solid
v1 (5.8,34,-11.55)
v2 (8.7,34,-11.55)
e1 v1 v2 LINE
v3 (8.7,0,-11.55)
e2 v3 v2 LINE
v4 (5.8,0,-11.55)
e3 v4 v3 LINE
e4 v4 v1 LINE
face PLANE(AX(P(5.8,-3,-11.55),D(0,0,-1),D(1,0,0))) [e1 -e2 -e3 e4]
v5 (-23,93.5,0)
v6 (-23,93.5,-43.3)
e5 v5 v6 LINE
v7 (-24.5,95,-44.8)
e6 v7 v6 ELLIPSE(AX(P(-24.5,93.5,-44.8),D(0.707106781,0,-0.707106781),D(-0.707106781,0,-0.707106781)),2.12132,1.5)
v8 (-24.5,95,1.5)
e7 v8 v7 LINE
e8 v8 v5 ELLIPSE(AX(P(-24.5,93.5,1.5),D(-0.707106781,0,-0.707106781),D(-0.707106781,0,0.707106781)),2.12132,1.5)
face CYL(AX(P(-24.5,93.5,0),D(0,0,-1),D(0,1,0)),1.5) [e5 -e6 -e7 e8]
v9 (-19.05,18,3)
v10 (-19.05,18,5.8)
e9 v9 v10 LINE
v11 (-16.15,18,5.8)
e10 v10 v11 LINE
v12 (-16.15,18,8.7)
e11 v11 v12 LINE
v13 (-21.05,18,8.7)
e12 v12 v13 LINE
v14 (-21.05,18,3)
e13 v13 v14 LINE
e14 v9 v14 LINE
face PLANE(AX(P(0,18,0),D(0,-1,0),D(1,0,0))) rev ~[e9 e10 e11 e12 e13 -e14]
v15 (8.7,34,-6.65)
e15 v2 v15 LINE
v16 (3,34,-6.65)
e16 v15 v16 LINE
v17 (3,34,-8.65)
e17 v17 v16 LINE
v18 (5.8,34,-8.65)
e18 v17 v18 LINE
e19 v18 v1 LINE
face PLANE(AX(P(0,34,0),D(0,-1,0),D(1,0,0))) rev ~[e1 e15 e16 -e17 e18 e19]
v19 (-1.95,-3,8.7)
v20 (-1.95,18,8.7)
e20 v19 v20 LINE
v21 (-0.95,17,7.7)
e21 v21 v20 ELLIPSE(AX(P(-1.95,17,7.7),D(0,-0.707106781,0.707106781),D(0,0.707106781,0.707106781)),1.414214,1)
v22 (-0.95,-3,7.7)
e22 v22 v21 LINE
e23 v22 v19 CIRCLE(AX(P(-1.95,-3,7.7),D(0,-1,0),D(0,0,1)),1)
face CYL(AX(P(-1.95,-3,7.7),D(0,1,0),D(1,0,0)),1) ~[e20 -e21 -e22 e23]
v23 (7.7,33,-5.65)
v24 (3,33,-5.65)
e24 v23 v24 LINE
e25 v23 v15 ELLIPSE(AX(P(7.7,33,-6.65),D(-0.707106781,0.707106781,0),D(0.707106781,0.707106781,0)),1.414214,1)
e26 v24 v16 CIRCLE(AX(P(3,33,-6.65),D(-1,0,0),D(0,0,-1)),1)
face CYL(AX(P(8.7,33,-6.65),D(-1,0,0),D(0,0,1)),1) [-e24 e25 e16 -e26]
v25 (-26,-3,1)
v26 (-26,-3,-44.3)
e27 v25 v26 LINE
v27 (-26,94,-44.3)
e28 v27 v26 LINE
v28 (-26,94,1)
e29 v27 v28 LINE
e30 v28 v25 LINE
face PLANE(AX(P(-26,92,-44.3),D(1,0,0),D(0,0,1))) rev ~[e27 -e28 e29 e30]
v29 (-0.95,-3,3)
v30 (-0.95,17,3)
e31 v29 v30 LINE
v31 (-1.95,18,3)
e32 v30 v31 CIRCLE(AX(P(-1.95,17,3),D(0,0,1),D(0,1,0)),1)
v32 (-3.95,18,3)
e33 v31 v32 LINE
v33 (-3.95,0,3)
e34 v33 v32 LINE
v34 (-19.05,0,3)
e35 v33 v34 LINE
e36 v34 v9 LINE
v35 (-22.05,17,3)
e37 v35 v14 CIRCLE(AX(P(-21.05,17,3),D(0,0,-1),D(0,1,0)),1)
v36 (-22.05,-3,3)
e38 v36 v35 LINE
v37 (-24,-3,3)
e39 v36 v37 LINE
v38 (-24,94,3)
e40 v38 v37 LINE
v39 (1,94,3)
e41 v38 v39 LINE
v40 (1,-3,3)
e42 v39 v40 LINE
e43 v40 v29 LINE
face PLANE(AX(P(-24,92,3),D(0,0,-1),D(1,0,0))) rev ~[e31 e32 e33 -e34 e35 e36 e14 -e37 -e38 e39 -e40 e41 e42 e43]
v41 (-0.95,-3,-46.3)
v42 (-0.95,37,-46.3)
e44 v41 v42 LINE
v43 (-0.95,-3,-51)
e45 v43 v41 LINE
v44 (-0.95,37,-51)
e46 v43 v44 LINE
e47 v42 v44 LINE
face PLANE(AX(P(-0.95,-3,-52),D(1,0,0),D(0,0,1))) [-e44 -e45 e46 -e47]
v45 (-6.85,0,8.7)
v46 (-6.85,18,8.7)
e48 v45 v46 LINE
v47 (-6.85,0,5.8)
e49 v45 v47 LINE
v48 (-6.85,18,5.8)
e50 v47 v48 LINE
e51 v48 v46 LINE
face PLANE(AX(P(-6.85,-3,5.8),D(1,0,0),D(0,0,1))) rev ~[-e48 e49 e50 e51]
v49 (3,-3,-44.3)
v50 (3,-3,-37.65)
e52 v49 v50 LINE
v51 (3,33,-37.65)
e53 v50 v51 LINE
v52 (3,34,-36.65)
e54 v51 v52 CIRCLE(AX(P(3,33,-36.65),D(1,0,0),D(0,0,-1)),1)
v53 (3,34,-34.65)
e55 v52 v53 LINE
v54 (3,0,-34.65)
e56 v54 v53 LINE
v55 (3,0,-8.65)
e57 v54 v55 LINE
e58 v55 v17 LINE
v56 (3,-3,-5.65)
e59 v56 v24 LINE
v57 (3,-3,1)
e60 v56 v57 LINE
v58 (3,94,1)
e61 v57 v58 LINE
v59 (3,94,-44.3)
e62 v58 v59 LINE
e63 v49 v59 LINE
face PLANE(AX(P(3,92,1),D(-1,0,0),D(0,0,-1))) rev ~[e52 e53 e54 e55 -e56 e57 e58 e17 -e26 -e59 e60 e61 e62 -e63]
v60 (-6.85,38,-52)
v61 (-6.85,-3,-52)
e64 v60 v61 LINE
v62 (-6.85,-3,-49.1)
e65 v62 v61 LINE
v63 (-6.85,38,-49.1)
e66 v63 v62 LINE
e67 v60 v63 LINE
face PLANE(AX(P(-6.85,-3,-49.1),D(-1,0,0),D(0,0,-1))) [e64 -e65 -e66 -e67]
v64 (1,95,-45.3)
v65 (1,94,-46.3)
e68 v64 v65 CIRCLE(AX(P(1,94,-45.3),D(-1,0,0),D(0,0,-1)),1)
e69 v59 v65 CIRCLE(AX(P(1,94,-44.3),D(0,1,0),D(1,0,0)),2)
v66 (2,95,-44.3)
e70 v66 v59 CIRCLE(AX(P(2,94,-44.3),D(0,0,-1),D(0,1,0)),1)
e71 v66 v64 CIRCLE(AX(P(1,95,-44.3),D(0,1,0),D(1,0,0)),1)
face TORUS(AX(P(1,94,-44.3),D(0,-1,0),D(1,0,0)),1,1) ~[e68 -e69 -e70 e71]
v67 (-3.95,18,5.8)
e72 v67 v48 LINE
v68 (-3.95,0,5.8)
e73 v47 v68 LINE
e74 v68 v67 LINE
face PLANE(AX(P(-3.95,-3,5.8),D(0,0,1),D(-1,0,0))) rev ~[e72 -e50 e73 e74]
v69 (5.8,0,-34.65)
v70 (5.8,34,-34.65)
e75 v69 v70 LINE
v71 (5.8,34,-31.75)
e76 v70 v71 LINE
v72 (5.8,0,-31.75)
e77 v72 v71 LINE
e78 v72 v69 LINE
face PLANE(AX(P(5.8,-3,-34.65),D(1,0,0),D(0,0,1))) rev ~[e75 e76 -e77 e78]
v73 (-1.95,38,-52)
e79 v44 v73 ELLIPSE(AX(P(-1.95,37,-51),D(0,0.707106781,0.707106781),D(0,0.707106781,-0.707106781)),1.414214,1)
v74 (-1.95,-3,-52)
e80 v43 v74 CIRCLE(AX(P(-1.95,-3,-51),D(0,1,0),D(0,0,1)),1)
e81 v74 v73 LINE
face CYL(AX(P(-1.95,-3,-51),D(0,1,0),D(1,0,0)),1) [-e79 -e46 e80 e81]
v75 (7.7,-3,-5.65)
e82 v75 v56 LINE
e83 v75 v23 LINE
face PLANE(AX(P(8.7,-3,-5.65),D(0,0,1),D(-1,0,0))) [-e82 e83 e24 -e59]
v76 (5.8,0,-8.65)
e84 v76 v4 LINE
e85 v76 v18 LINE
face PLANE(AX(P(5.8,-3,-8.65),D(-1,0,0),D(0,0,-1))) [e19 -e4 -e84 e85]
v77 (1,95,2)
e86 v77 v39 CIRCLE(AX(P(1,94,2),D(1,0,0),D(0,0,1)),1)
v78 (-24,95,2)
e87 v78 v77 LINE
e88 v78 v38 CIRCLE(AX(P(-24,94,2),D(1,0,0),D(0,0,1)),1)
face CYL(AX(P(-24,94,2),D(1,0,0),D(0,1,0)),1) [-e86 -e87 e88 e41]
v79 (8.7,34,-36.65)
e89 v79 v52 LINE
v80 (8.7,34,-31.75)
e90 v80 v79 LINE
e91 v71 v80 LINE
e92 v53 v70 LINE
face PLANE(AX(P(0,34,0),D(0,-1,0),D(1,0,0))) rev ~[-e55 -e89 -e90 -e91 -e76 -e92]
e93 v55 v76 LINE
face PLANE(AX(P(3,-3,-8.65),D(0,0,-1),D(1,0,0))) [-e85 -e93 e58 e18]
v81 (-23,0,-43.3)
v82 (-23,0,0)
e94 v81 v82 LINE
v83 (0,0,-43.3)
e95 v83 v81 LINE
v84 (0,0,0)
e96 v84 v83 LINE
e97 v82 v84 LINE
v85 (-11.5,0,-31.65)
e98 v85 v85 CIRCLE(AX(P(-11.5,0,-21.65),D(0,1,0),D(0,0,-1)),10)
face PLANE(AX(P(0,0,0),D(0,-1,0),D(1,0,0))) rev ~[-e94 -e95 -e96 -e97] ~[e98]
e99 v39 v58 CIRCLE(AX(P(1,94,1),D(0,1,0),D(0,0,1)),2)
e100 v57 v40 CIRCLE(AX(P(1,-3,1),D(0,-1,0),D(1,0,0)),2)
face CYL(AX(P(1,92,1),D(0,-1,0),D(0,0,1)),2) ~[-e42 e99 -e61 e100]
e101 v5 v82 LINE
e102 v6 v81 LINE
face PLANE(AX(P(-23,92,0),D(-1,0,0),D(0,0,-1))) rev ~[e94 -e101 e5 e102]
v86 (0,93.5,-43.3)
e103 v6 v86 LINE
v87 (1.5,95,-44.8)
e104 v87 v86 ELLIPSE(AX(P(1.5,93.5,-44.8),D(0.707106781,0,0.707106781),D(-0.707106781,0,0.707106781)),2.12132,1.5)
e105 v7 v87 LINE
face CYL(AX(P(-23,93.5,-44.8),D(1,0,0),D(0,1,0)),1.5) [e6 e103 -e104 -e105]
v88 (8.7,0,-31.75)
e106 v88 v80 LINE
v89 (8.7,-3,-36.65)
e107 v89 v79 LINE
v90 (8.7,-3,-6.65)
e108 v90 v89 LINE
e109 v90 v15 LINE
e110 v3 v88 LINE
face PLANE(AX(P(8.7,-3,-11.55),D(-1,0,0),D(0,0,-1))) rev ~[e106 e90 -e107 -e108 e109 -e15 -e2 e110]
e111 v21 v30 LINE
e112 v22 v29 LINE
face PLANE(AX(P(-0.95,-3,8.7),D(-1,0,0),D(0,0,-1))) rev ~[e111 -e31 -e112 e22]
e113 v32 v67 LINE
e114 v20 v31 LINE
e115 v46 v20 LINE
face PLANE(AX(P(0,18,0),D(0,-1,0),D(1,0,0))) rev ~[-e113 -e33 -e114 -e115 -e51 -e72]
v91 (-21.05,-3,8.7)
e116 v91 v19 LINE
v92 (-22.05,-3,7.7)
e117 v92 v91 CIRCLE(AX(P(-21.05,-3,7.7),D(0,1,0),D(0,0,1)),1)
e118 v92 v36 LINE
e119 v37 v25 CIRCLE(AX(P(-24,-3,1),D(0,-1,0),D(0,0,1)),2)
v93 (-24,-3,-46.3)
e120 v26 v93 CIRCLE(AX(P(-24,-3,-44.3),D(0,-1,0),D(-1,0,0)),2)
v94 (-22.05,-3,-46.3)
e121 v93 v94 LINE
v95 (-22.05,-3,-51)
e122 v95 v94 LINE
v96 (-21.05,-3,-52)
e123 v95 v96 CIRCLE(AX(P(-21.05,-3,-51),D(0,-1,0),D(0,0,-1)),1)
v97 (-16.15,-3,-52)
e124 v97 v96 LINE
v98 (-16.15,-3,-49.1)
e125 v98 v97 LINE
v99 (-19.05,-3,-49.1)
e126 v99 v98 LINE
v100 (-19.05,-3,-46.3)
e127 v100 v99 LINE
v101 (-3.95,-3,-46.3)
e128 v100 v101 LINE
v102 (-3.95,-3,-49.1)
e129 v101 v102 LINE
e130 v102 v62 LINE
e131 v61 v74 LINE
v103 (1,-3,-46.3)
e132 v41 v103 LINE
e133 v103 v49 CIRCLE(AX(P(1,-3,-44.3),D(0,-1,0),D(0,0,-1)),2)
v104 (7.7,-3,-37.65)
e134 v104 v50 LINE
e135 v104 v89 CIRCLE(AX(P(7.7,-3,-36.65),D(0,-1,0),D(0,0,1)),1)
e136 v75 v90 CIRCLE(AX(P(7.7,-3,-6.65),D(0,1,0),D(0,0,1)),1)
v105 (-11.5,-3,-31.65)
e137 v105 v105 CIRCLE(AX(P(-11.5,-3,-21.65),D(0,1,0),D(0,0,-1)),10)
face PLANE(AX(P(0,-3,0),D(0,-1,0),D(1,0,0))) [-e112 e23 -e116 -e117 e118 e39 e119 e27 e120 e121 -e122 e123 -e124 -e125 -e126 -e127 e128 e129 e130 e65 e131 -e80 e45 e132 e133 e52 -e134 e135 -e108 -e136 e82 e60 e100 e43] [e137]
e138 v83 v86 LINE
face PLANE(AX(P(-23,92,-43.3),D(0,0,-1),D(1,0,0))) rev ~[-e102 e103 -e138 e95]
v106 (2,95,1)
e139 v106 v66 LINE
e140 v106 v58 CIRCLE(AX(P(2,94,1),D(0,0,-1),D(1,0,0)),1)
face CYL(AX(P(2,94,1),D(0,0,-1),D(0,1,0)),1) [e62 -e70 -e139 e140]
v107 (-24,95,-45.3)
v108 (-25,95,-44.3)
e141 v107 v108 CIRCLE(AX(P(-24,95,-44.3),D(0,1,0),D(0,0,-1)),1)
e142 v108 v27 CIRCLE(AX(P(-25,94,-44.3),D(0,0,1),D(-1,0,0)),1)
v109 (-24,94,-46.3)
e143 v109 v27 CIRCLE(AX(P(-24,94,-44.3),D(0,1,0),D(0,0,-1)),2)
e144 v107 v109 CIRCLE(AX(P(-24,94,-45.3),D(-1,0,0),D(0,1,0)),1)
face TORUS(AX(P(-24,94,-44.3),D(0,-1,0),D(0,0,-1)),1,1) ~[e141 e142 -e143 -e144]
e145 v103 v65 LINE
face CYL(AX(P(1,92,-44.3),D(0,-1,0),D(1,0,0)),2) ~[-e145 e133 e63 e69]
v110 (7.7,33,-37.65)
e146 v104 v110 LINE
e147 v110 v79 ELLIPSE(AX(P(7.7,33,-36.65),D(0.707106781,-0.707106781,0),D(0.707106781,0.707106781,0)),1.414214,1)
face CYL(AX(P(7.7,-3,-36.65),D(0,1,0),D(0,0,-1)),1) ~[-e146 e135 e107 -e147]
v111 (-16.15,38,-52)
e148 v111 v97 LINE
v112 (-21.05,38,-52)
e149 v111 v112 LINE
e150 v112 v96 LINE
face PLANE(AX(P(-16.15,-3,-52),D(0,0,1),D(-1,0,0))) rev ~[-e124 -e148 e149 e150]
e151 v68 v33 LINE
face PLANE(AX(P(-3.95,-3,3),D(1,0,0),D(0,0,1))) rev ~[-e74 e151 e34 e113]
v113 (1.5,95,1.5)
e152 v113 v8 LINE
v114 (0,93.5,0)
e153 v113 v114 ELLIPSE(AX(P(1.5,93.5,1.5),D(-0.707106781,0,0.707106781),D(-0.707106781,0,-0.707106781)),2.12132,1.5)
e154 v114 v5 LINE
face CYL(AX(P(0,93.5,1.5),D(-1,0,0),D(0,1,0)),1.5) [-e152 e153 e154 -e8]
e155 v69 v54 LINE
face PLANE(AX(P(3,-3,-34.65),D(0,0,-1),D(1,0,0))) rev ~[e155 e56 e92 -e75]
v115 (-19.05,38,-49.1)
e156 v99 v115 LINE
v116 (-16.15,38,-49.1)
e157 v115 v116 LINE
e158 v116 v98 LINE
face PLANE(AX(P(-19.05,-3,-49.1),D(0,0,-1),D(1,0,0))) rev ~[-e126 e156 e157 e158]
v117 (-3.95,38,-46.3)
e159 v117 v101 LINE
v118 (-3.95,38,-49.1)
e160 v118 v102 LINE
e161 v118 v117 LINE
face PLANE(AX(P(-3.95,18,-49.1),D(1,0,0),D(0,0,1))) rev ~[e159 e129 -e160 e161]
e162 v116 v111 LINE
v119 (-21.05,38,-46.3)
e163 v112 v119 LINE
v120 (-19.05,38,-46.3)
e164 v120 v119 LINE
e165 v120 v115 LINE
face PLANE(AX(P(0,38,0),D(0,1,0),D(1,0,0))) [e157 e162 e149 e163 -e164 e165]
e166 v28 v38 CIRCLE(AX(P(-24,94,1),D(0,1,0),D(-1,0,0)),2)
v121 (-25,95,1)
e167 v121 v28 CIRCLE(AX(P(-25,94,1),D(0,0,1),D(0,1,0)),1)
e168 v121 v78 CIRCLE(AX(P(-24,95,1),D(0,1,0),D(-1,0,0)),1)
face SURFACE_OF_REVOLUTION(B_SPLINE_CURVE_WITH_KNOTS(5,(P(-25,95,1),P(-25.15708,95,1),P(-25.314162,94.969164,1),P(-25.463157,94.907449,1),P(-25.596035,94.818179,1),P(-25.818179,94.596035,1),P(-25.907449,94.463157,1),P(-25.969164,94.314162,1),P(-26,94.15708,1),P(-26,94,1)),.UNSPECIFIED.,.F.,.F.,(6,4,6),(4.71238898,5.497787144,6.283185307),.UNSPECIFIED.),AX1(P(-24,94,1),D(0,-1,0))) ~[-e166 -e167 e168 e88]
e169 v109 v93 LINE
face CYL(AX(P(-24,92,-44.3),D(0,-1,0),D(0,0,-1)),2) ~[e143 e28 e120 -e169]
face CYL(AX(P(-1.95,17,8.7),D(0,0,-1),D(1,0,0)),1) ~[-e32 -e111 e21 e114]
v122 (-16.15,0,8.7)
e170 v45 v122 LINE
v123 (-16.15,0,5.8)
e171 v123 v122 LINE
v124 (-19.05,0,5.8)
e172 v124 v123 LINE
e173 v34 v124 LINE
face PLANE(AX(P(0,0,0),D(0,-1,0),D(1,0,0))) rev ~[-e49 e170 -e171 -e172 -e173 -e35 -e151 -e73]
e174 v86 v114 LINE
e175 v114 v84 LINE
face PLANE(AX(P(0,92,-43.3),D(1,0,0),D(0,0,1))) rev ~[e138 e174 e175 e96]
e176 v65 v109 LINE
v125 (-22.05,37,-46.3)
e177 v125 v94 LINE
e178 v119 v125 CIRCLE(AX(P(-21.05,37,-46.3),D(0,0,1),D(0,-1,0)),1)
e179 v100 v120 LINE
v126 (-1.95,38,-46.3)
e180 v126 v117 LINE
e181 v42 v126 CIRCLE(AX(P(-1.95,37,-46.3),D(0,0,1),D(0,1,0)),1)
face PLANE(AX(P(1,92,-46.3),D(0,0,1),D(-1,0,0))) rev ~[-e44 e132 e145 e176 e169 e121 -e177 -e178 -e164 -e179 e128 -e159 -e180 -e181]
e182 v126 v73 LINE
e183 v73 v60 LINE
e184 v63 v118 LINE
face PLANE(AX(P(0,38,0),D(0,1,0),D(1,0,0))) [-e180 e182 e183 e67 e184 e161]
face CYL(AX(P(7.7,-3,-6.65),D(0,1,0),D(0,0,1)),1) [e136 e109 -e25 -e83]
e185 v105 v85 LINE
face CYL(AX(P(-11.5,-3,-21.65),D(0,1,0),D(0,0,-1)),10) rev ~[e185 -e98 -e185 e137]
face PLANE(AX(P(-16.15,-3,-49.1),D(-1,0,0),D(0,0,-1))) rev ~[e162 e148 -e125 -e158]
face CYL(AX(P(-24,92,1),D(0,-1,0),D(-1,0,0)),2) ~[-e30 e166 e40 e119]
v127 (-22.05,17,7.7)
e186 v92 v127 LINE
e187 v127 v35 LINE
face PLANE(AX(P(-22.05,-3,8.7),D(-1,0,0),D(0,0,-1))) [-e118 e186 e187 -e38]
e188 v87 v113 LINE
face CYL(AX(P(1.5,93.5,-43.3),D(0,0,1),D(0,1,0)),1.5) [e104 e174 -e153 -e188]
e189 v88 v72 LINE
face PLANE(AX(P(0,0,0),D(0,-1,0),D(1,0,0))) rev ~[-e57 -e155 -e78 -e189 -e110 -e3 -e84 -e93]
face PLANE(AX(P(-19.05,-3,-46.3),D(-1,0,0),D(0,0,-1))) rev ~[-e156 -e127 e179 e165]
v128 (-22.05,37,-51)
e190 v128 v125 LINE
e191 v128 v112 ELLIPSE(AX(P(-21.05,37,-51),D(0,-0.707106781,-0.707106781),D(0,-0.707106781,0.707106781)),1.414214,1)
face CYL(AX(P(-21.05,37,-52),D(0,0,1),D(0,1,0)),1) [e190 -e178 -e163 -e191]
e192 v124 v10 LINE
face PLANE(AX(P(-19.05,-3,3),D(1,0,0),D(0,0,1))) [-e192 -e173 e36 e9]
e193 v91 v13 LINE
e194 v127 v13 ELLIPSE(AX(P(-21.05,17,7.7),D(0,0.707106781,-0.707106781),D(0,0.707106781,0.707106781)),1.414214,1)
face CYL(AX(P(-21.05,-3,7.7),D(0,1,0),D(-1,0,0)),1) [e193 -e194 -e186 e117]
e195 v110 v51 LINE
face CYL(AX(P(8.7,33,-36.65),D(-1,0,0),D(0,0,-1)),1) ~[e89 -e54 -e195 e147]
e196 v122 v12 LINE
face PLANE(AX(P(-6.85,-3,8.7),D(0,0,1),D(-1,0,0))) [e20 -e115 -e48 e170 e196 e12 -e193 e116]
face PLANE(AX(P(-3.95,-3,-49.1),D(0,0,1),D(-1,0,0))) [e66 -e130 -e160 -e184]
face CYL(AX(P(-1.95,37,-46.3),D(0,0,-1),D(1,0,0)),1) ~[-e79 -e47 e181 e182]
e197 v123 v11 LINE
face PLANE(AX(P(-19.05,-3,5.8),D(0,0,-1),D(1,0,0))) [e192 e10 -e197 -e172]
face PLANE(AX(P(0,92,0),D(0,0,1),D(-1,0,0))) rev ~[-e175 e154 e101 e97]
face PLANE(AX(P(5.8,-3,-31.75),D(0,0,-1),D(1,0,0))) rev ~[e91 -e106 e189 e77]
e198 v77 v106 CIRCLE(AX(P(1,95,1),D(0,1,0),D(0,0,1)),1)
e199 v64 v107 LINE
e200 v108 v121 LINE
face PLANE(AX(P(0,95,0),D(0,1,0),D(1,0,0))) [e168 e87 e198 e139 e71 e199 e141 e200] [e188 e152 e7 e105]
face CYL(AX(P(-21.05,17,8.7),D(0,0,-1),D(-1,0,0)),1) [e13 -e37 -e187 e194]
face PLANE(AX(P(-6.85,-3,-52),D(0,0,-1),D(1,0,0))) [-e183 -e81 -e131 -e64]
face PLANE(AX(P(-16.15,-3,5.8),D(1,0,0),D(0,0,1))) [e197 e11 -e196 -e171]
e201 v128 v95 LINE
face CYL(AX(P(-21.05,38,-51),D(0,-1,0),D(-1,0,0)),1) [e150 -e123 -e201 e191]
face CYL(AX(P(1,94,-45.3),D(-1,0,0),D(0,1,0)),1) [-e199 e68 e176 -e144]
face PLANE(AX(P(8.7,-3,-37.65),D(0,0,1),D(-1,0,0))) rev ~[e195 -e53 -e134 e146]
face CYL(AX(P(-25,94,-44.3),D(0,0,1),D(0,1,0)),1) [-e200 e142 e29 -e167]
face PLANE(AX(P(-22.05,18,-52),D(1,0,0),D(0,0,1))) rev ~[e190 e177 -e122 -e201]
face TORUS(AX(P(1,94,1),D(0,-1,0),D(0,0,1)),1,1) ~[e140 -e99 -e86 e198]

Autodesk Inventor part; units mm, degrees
ref_plane "YZ Plane" through (0, 0, 0) normal (1, 0, 0) x (0, 1, 0)
ref_plane "XZ Plane" through (0, 0, 0) normal (0, 1, 0) x (-1, 0, 0)
ref_plane "XY Plane" through (0, 0, 0) normal (0, 0, 1) x (1, 0, 0)
sketch "Boceto1" plane through (0, 0, 0) normal (0, 1, 0) x (-1, 0, 0)
  line L0 (0, 0) -> (23, 0)
  line L1 (23, 0) -> (23, -43.3)
  line L2 (23, -43.3) -> (0, -43.3)
  line L3 (0, -43.3) -> (0, 0)
  dimension "d0" = 23
  dimension "d1" = 43.3
ref_plane "Plano de trabajo1" through (0, 92, 0) normal (0, 1, 0) x (1, 0, 0)
sketch "Boceto2" plane through (0, 92, 0) normal (0, 1, 0) x (1, 0, 0)
  line L0 (0, 43.3) -> (-23, 43.3) projected
  line L1 (-23, 43.3) -> (-23, 0) projected
  line L2 (-23, 0) -> (0, 0) projected
  line L3 (0, 0) -> (0, 43.3) projected
  line L4 (-26, -1) -> (-26, 44.3)
  line L5 (-24, 46.3) -> (1, 46.3)
  line L6 (3, 44.3) -> (3, -1)
  line L7 (1, -3) -> (-24, -3)
  arc A0 (-26, -1) -> (-24, -3) centre (-24, -1) ccw
  arc A1 (1, -3) -> (3, -1) centre (1, -1) ccw
  arc A2 (3, 44.3) -> (1, 46.3) centre (1, 44.3) ccw
  arc A3 (-24, 46.3) -> (-26, 44.3) centre (-24, 44.3) ccw
  point P0 (-11.5, 21.65)
  point P1 (-26, -3)
  point P2 (-26, 46.3)
  point P3 (3, 46.3)
  point P4 (3, -3)
  dimension "d4" = 21.65
  dimension "d5" = 11.5
  dimension "d6" = 3
  dimension "d9" = 2
extrude "Extrusión2" add sketch "Boceto2" against normal blind 92
sketch "Boceto3" plane through (0, 0, 0) normal (0, -1, 0) x (1, 0, 0)
  line L0 (3, -44.3) -> (3, 1) projected
  arc A0 (3, 1) -> (1, 3) centre (1, 1) ccw projected
  line L1 (1, 3) -> (-24, 3) projected
  arc A1 (-24, 3) -> (-26, 1) centre (-24, 1) ccw projected
  line L2 (-26, 1) -> (-26, -44.3) projected
  arc A2 (-26, -44.3) -> (-24, -46.3) centre (-24, -44.3) ccw projected
  line L3 (-24, -46.3) -> (1, -46.3) projected
  arc A3 (1, -46.3) -> (3, -44.3) centre (1, -44.3) ccw projected
  point P0 (0, 0)
extrude "Extrusión3" add sketch "Boceto3" along normal blind 3
sketch "Boceto4" plane through (0, -3, 0) normal (0, -1, 0) x (1, 0, 0)
  line L0 (3, -44.3) -> (3, 1) projected
  line L1 (3, -8.65) -> (5.8, -8.65)
  line L2 (5.8, -8.65) -> (5.8, -11.55)
  line L3 (5.8, -11.55) -> (8.7, -11.55)
  line L4 (8.7, -11.55) -> (8.7, -5.65)
  line L5 (8.7, -5.65) -> (3, -5.65)
  line L6 (3, -21.65) -> (22.5352, -21.65) construction
  line L7 (3, -34.65) -> (5.8, -34.65)
  line L8 (5.8, -34.65) -> (5.8, -31.75)
  line L9 (5.8, -31.75) -> (8.7, -31.75)
  line L10 (8.7, -31.75) -> (8.7, -37.65)
  line L11 (8.7, -37.65) -> (3, -37.65)
  point P0 (0, 0)
  point P1 (3, -37.65)
  dimension "d12" = 2.8
  dimension "d13" = 2.9
  dimension "d14" = 2.9
  dimension "d15" = 5.9
  dimension "d16" = 13
extrude "Extrusión4" add sketch "Boceto4" against normal blind 37
sketch "Boceto5" plane through (0, -3, 0) normal (0, -1, 0) x (1, 0, 0)
  line L0 (3, -34.65) -> (3, -8.65) projected
  line L1 (3, -8.65) -> (5.8, -8.65) projected
  line L2 (5.8, -8.65) -> (5.8, -11.55) projected
  line L3 (5.8, -31.75) -> (5.8, -34.65) projected
  line L4 (5.8, -34.65) -> (3, -34.65) projected
  line L5 (5.8, -11.55) -> (8.7, -11.55) projected
  line L6 (8.7, -31.75) -> (5.8, -31.75) projected
  line L7 (8.7, -11.55) -> (8.7, -31.75)
  point P0 (0, 0)
extrude "Extrusión5" add sketch "Boceto5" against normal blind 3
sketch "Boceto6" plane through (0, -3, 0) normal (0, -1, 0) x (1, 0, 0)
  arc A0 (3, 1) -> (1, 3) centre (1, 1) ccw projected
  line L0 (1, 3) -> (-24, 3) projected
  arc A1 (-24, 3) -> (-26, 1) centre (-24, 1) ccw projected
  line L1 (-26, 1) -> (-26, -44.3) projected
  arc A2 (-26, -44.3) -> (-24, -46.3) centre (-24, -44.3) ccw projected
  line L2 (-24, -46.3) -> (1, -46.3) projected
  arc A3 (1, -46.3) -> (3, -44.3) centre (1, -44.3) ccw projected
  line L3 (3, -44.3) -> (3, -37.65) projected
  line L4 (3, -37.65) -> (8.7, -37.65) projected
  line L5 (8.7, -37.65) -> (8.7, -5.65) projected
  line L6 (8.7, -5.65) -> (3, -5.65) projected
  line L7 (3, -5.65) -> (3, 1) projected
  line L8 (0, -43.3) -> (-23, -43.3) projected
  line L9 (3, -8.65) -> (3, -34.65) projected
  point P0 (0, 0)
  point P1 (-11.5, -21.65)
  dimension "d21" = 21.65
  dimension "d22" = 14.5
hole "Agujero1" at (-11.5, -3, -21.65) direction (0, 1, 0) diameter 20 end through all
sketch "Boceto7" plane through (0, -3, 0) normal (0, -1, 0) x (1, 0, 0)
  line L0 (1, 3) -> (-24, 3) projected
  line L1 (-3.95, 3) -> (-3.95, 5.8)
  line L2 (-3.95, 5.8) -> (-6.85, 5.8)
  line L3 (-6.85, 5.8) -> (-6.85, 8.7)
  line L4 (-6.85, 8.7) -> (-0.95, 8.7)
  line L5 (-0.95, 8.7) -> (-0.95, 3)
  line L6 (-11.5, 3) -> (-11.5, 18.2857) construction
  line L7 (-19.05, 3) -> (-19.05, 5.8)
  line L8 (-19.05, 5.8) -> (-16.15, 5.8)
  line L9 (-16.15, 5.8) -> (-16.15, 8.7)
  line L10 (-16.15, 8.7) -> (-22.05, 8.7)
  line L11 (-22.05, 8.7) -> (-22.05, 3)
  line L12 (8.7, -11.55) -> (8.7, -31.75) construction
  line L13 (8.7, -21.65) -> (17.1818, -21.65) construction
  line L14 (1, -46.3) -> (-24, -46.3)
  line L15 (-3.95, -46.3) -> (-3.95, -49.1)
  line L16 (-3.95, -49.1) -> (-6.85, -49.1)
  line L17 (-6.85, -49.1) -> (-6.85, -52)
  line L18 (-6.85, -52) -> (-0.95, -52)
  line L19 (-0.95, -52) -> (-0.95, -46.3)
  line L20 (-16.15, -52) -> (-22.05, -52)
  line L21 (-16.15, -49.1) -> (-16.15, -52)
  line L22 (-19.05, -49.1) -> (-16.15, -49.1)
  line L23 (-19.05, -46.3) -> (-19.05, -49.1)
  line L24 (-22.05, -52) -> (-22.05, -46.3)
  point P0 (0, 0)
  dimension "d30" = 2.8
  dimension "d31" = 2.9
  dimension "d32" = 2.9
  dimension "d33" = 5.9
  dimension "d34" = 7.55
extrude "Extrusión6" add sketch "Boceto7" against normal blind 21
sketch "Boceto8" plane through (0, -3, 0) normal (0, -1, 0) x (1, 0, 0)
  circle A0 centre (-11.5, -21.65) radius 10 projected
  arc A1 (3, 1) -> (1, 3) centre (1, 1) ccw projected
  line L0 (1, 3) -> (-0.95, 3) projected
  line L1 (-0.95, 3) -> (-0.95, 8.7) projected
  line L2 (-0.95, 8.7) -> (-6.85, 8.7) projected
  line L3 (-6.85, 8.7) -> (-6.85, 5.8) projected
  line L4 (-6.85, 5.8) -> (-3.95, 5.8) projected
  line L5 (-3.95, 5.8) -> (-3.95, 3) projected
  line L6 (-3.95, 3) -> (-19.05, 3) projected
  line L7 (-19.05, 3) -> (-19.05, 5.8) projected
  line L8 (-19.05, 5.8) -> (-16.15, 5.8) projected
  line L9 (-16.15, 5.8) -> (-16.15, 8.7) projected
  line L10 (-16.15, 8.7) -> (-22.05, 8.7) projected
  line L11 (-22.05, 8.7) -> (-22.05, 3) projected
  line L12 (-22.05, 3) -> (-24, 3) projected
  arc A2 (-24, 3) -> (-26, 1) centre (-24, 1) ccw projected
  line L13 (-26, 1) -> (-26, -44.3) projected
  arc A3 (-26, -44.3) -> (-24, -46.3) centre (-24, -44.3) ccw projected
  line L14 (-24, -46.3) -> (-22.05, -46.3) projected
  line L15 (-22.05, -46.3) -> (-22.05, -52) projected
  line L16 (-22.05, -52) -> (-16.15, -52) projected
  line L17 (-16.15, -52) -> (-16.15, -49.1) projected
  line L18 (-16.15, -49.1) -> (-19.05, -49.1) projected
  line L19 (-19.05, -49.1) -> (-19.05, -46.3) projected
  line L20 (-19.05, -46.3) -> (-3.95, -46.3) projected
  line L21 (-3.95, -46.3) -> (-3.95, -49.1) projected
  line L22 (-3.95, -49.1) -> (-6.85, -49.1) projected
  line L23 (-6.85, -49.1) -> (-6.85, -52) projected
  line L24 (-6.85, -52) -> (-0.95, -52) projected
  line L25 (-0.95, -52) -> (-0.95, -46.3) projected
  line L26 (-0.95, -46.3) -> (1, -46.3) projected
  arc A4 (1, -46.3) -> (3, -44.3) centre (1, -44.3) ccw projected
  line L27 (3, -44.3) -> (3, -37.65) projected
  line L28 (3, -37.65) -> (8.7, -37.65) projected
  line L29 (8.7, -37.65) -> (8.7, -5.65) projected
  line L30 (8.7, -5.65) -> (3, -5.65) projected
  line L31 (3, -5.65) -> (3, 1) projected
  line L32 (-6.85, 8.7) -> (-16.15, 8.7)
  line L33 (-6.85, -52) -> (-16.15, -52)
  point P0 (0, 0)
extrude "Extrusión7" add sketch "Boceto8" against normal blind 3 contours L3 L4 L5 L6 L7 L8 L9 L32
sketch "Boceto9" plane through (0, 92, 0) normal (0, 1, 0) x (1, 0, 0)
  line L0 (3, -1) -> (3, 44.3) projected
  arc A0 (3, 44.3) -> (1, 46.3) centre (1, 44.3) ccw projected
  line L1 (1, 46.3) -> (-24, 46.3) projected
  arc A1 (-24, 46.3) -> (-26, 44.3) centre (-24, 44.3) ccw projected
  line L2 (-26, 44.3) -> (-26, -1) projected
  arc A2 (-26, -1) -> (-24, -3) centre (-24, -1) ccw projected
  line L3 (-24, -3) -> (1, -3) projected
  arc A3 (1, -3) -> (3, -1) centre (1, -1) ccw projected
  line L4 (0, 43.3) -> (0, 0) projected
  line L5 (0, 0) -> (-23, 0) projected
  line L6 (-23, 0) -> (-23, 43.3) projected
  line L7 (-23, 43.3) -> (0, 43.3) projected
extrude "Extrusión8" add sketch "Boceto9" along normal blind 3
fillet "Empalme1" radius 1.5 4 edges at (-11.5, 95, 0) (0, 95, -21.65) (-23, 95, -21.65) (-11.5, 95, -43.3)
fillet "Empalme2" radius 1 8 edges at (2.4142, 95, 2.4142) (3, 95, -21.65) (2.4142, 95, -45.7142) (-11.5, 95, -46.3) (-25.4142, 95, -45.7142) (-26, 95, -21.65) (-25.4142, 95, 2.4142) (-11.5, 95, 3)
sketch "Boceto10" plane through (0, 18, 0) normal (0, 1, 0) x (1, 0, 0)
  line L0 (-0.95, 46.3) -> (-0.95, 52) projected
  line L1 (-0.95, 52) -> (-6.85, 52) projected
  line L2 (-6.85, 52) -> (-6.85, 49.1) projected
  line L3 (-6.85, 49.1) -> (-3.95, 49.1) projected
  line L4 (-3.95, 49.1) -> (-3.95, 46.3) projected
  line L5 (-0.95, 46.3) -> (-3.95, 46.3) projected
  line L6 (-16.15, 49.1) -> (-16.15, 52) projected
  line L7 (-16.15, 52) -> (-22.05, 52) projected
  line L8 (-22.05, 52) -> (-22.05, 46.3) projected
  line L9 (-19.05, 46.3) -> (-22.05, 46.3) projected
  line L10 (-19.05, 46.3) -> (-19.05, 49.1) projected
  line L11 (-19.05, 49.1) -> (-16.15, 49.1) projected
  point P0 (0, 0)
extrude "Extrusión9" add sketch "Boceto10" along normal blind 20
fillet "Empalme3" radius 1 12 edges at (8.7, 15.5, -37.65) (8.7, 15.5, -5.65) (-0.95, 7.5, 8.7) (-22.05, 7.5, 8.7) (5.85, 34, -37.65) (5.85, 34, -5.65) (-0.95, 18, 5.85) (-22.05, 18, 5.85) (-0.95, 17.5, -52) (-0.95, 38, -49.15) (-22.05, 17.5, -52) (-22.05, 38, -49.15)
properties part number "cajaPilas"
